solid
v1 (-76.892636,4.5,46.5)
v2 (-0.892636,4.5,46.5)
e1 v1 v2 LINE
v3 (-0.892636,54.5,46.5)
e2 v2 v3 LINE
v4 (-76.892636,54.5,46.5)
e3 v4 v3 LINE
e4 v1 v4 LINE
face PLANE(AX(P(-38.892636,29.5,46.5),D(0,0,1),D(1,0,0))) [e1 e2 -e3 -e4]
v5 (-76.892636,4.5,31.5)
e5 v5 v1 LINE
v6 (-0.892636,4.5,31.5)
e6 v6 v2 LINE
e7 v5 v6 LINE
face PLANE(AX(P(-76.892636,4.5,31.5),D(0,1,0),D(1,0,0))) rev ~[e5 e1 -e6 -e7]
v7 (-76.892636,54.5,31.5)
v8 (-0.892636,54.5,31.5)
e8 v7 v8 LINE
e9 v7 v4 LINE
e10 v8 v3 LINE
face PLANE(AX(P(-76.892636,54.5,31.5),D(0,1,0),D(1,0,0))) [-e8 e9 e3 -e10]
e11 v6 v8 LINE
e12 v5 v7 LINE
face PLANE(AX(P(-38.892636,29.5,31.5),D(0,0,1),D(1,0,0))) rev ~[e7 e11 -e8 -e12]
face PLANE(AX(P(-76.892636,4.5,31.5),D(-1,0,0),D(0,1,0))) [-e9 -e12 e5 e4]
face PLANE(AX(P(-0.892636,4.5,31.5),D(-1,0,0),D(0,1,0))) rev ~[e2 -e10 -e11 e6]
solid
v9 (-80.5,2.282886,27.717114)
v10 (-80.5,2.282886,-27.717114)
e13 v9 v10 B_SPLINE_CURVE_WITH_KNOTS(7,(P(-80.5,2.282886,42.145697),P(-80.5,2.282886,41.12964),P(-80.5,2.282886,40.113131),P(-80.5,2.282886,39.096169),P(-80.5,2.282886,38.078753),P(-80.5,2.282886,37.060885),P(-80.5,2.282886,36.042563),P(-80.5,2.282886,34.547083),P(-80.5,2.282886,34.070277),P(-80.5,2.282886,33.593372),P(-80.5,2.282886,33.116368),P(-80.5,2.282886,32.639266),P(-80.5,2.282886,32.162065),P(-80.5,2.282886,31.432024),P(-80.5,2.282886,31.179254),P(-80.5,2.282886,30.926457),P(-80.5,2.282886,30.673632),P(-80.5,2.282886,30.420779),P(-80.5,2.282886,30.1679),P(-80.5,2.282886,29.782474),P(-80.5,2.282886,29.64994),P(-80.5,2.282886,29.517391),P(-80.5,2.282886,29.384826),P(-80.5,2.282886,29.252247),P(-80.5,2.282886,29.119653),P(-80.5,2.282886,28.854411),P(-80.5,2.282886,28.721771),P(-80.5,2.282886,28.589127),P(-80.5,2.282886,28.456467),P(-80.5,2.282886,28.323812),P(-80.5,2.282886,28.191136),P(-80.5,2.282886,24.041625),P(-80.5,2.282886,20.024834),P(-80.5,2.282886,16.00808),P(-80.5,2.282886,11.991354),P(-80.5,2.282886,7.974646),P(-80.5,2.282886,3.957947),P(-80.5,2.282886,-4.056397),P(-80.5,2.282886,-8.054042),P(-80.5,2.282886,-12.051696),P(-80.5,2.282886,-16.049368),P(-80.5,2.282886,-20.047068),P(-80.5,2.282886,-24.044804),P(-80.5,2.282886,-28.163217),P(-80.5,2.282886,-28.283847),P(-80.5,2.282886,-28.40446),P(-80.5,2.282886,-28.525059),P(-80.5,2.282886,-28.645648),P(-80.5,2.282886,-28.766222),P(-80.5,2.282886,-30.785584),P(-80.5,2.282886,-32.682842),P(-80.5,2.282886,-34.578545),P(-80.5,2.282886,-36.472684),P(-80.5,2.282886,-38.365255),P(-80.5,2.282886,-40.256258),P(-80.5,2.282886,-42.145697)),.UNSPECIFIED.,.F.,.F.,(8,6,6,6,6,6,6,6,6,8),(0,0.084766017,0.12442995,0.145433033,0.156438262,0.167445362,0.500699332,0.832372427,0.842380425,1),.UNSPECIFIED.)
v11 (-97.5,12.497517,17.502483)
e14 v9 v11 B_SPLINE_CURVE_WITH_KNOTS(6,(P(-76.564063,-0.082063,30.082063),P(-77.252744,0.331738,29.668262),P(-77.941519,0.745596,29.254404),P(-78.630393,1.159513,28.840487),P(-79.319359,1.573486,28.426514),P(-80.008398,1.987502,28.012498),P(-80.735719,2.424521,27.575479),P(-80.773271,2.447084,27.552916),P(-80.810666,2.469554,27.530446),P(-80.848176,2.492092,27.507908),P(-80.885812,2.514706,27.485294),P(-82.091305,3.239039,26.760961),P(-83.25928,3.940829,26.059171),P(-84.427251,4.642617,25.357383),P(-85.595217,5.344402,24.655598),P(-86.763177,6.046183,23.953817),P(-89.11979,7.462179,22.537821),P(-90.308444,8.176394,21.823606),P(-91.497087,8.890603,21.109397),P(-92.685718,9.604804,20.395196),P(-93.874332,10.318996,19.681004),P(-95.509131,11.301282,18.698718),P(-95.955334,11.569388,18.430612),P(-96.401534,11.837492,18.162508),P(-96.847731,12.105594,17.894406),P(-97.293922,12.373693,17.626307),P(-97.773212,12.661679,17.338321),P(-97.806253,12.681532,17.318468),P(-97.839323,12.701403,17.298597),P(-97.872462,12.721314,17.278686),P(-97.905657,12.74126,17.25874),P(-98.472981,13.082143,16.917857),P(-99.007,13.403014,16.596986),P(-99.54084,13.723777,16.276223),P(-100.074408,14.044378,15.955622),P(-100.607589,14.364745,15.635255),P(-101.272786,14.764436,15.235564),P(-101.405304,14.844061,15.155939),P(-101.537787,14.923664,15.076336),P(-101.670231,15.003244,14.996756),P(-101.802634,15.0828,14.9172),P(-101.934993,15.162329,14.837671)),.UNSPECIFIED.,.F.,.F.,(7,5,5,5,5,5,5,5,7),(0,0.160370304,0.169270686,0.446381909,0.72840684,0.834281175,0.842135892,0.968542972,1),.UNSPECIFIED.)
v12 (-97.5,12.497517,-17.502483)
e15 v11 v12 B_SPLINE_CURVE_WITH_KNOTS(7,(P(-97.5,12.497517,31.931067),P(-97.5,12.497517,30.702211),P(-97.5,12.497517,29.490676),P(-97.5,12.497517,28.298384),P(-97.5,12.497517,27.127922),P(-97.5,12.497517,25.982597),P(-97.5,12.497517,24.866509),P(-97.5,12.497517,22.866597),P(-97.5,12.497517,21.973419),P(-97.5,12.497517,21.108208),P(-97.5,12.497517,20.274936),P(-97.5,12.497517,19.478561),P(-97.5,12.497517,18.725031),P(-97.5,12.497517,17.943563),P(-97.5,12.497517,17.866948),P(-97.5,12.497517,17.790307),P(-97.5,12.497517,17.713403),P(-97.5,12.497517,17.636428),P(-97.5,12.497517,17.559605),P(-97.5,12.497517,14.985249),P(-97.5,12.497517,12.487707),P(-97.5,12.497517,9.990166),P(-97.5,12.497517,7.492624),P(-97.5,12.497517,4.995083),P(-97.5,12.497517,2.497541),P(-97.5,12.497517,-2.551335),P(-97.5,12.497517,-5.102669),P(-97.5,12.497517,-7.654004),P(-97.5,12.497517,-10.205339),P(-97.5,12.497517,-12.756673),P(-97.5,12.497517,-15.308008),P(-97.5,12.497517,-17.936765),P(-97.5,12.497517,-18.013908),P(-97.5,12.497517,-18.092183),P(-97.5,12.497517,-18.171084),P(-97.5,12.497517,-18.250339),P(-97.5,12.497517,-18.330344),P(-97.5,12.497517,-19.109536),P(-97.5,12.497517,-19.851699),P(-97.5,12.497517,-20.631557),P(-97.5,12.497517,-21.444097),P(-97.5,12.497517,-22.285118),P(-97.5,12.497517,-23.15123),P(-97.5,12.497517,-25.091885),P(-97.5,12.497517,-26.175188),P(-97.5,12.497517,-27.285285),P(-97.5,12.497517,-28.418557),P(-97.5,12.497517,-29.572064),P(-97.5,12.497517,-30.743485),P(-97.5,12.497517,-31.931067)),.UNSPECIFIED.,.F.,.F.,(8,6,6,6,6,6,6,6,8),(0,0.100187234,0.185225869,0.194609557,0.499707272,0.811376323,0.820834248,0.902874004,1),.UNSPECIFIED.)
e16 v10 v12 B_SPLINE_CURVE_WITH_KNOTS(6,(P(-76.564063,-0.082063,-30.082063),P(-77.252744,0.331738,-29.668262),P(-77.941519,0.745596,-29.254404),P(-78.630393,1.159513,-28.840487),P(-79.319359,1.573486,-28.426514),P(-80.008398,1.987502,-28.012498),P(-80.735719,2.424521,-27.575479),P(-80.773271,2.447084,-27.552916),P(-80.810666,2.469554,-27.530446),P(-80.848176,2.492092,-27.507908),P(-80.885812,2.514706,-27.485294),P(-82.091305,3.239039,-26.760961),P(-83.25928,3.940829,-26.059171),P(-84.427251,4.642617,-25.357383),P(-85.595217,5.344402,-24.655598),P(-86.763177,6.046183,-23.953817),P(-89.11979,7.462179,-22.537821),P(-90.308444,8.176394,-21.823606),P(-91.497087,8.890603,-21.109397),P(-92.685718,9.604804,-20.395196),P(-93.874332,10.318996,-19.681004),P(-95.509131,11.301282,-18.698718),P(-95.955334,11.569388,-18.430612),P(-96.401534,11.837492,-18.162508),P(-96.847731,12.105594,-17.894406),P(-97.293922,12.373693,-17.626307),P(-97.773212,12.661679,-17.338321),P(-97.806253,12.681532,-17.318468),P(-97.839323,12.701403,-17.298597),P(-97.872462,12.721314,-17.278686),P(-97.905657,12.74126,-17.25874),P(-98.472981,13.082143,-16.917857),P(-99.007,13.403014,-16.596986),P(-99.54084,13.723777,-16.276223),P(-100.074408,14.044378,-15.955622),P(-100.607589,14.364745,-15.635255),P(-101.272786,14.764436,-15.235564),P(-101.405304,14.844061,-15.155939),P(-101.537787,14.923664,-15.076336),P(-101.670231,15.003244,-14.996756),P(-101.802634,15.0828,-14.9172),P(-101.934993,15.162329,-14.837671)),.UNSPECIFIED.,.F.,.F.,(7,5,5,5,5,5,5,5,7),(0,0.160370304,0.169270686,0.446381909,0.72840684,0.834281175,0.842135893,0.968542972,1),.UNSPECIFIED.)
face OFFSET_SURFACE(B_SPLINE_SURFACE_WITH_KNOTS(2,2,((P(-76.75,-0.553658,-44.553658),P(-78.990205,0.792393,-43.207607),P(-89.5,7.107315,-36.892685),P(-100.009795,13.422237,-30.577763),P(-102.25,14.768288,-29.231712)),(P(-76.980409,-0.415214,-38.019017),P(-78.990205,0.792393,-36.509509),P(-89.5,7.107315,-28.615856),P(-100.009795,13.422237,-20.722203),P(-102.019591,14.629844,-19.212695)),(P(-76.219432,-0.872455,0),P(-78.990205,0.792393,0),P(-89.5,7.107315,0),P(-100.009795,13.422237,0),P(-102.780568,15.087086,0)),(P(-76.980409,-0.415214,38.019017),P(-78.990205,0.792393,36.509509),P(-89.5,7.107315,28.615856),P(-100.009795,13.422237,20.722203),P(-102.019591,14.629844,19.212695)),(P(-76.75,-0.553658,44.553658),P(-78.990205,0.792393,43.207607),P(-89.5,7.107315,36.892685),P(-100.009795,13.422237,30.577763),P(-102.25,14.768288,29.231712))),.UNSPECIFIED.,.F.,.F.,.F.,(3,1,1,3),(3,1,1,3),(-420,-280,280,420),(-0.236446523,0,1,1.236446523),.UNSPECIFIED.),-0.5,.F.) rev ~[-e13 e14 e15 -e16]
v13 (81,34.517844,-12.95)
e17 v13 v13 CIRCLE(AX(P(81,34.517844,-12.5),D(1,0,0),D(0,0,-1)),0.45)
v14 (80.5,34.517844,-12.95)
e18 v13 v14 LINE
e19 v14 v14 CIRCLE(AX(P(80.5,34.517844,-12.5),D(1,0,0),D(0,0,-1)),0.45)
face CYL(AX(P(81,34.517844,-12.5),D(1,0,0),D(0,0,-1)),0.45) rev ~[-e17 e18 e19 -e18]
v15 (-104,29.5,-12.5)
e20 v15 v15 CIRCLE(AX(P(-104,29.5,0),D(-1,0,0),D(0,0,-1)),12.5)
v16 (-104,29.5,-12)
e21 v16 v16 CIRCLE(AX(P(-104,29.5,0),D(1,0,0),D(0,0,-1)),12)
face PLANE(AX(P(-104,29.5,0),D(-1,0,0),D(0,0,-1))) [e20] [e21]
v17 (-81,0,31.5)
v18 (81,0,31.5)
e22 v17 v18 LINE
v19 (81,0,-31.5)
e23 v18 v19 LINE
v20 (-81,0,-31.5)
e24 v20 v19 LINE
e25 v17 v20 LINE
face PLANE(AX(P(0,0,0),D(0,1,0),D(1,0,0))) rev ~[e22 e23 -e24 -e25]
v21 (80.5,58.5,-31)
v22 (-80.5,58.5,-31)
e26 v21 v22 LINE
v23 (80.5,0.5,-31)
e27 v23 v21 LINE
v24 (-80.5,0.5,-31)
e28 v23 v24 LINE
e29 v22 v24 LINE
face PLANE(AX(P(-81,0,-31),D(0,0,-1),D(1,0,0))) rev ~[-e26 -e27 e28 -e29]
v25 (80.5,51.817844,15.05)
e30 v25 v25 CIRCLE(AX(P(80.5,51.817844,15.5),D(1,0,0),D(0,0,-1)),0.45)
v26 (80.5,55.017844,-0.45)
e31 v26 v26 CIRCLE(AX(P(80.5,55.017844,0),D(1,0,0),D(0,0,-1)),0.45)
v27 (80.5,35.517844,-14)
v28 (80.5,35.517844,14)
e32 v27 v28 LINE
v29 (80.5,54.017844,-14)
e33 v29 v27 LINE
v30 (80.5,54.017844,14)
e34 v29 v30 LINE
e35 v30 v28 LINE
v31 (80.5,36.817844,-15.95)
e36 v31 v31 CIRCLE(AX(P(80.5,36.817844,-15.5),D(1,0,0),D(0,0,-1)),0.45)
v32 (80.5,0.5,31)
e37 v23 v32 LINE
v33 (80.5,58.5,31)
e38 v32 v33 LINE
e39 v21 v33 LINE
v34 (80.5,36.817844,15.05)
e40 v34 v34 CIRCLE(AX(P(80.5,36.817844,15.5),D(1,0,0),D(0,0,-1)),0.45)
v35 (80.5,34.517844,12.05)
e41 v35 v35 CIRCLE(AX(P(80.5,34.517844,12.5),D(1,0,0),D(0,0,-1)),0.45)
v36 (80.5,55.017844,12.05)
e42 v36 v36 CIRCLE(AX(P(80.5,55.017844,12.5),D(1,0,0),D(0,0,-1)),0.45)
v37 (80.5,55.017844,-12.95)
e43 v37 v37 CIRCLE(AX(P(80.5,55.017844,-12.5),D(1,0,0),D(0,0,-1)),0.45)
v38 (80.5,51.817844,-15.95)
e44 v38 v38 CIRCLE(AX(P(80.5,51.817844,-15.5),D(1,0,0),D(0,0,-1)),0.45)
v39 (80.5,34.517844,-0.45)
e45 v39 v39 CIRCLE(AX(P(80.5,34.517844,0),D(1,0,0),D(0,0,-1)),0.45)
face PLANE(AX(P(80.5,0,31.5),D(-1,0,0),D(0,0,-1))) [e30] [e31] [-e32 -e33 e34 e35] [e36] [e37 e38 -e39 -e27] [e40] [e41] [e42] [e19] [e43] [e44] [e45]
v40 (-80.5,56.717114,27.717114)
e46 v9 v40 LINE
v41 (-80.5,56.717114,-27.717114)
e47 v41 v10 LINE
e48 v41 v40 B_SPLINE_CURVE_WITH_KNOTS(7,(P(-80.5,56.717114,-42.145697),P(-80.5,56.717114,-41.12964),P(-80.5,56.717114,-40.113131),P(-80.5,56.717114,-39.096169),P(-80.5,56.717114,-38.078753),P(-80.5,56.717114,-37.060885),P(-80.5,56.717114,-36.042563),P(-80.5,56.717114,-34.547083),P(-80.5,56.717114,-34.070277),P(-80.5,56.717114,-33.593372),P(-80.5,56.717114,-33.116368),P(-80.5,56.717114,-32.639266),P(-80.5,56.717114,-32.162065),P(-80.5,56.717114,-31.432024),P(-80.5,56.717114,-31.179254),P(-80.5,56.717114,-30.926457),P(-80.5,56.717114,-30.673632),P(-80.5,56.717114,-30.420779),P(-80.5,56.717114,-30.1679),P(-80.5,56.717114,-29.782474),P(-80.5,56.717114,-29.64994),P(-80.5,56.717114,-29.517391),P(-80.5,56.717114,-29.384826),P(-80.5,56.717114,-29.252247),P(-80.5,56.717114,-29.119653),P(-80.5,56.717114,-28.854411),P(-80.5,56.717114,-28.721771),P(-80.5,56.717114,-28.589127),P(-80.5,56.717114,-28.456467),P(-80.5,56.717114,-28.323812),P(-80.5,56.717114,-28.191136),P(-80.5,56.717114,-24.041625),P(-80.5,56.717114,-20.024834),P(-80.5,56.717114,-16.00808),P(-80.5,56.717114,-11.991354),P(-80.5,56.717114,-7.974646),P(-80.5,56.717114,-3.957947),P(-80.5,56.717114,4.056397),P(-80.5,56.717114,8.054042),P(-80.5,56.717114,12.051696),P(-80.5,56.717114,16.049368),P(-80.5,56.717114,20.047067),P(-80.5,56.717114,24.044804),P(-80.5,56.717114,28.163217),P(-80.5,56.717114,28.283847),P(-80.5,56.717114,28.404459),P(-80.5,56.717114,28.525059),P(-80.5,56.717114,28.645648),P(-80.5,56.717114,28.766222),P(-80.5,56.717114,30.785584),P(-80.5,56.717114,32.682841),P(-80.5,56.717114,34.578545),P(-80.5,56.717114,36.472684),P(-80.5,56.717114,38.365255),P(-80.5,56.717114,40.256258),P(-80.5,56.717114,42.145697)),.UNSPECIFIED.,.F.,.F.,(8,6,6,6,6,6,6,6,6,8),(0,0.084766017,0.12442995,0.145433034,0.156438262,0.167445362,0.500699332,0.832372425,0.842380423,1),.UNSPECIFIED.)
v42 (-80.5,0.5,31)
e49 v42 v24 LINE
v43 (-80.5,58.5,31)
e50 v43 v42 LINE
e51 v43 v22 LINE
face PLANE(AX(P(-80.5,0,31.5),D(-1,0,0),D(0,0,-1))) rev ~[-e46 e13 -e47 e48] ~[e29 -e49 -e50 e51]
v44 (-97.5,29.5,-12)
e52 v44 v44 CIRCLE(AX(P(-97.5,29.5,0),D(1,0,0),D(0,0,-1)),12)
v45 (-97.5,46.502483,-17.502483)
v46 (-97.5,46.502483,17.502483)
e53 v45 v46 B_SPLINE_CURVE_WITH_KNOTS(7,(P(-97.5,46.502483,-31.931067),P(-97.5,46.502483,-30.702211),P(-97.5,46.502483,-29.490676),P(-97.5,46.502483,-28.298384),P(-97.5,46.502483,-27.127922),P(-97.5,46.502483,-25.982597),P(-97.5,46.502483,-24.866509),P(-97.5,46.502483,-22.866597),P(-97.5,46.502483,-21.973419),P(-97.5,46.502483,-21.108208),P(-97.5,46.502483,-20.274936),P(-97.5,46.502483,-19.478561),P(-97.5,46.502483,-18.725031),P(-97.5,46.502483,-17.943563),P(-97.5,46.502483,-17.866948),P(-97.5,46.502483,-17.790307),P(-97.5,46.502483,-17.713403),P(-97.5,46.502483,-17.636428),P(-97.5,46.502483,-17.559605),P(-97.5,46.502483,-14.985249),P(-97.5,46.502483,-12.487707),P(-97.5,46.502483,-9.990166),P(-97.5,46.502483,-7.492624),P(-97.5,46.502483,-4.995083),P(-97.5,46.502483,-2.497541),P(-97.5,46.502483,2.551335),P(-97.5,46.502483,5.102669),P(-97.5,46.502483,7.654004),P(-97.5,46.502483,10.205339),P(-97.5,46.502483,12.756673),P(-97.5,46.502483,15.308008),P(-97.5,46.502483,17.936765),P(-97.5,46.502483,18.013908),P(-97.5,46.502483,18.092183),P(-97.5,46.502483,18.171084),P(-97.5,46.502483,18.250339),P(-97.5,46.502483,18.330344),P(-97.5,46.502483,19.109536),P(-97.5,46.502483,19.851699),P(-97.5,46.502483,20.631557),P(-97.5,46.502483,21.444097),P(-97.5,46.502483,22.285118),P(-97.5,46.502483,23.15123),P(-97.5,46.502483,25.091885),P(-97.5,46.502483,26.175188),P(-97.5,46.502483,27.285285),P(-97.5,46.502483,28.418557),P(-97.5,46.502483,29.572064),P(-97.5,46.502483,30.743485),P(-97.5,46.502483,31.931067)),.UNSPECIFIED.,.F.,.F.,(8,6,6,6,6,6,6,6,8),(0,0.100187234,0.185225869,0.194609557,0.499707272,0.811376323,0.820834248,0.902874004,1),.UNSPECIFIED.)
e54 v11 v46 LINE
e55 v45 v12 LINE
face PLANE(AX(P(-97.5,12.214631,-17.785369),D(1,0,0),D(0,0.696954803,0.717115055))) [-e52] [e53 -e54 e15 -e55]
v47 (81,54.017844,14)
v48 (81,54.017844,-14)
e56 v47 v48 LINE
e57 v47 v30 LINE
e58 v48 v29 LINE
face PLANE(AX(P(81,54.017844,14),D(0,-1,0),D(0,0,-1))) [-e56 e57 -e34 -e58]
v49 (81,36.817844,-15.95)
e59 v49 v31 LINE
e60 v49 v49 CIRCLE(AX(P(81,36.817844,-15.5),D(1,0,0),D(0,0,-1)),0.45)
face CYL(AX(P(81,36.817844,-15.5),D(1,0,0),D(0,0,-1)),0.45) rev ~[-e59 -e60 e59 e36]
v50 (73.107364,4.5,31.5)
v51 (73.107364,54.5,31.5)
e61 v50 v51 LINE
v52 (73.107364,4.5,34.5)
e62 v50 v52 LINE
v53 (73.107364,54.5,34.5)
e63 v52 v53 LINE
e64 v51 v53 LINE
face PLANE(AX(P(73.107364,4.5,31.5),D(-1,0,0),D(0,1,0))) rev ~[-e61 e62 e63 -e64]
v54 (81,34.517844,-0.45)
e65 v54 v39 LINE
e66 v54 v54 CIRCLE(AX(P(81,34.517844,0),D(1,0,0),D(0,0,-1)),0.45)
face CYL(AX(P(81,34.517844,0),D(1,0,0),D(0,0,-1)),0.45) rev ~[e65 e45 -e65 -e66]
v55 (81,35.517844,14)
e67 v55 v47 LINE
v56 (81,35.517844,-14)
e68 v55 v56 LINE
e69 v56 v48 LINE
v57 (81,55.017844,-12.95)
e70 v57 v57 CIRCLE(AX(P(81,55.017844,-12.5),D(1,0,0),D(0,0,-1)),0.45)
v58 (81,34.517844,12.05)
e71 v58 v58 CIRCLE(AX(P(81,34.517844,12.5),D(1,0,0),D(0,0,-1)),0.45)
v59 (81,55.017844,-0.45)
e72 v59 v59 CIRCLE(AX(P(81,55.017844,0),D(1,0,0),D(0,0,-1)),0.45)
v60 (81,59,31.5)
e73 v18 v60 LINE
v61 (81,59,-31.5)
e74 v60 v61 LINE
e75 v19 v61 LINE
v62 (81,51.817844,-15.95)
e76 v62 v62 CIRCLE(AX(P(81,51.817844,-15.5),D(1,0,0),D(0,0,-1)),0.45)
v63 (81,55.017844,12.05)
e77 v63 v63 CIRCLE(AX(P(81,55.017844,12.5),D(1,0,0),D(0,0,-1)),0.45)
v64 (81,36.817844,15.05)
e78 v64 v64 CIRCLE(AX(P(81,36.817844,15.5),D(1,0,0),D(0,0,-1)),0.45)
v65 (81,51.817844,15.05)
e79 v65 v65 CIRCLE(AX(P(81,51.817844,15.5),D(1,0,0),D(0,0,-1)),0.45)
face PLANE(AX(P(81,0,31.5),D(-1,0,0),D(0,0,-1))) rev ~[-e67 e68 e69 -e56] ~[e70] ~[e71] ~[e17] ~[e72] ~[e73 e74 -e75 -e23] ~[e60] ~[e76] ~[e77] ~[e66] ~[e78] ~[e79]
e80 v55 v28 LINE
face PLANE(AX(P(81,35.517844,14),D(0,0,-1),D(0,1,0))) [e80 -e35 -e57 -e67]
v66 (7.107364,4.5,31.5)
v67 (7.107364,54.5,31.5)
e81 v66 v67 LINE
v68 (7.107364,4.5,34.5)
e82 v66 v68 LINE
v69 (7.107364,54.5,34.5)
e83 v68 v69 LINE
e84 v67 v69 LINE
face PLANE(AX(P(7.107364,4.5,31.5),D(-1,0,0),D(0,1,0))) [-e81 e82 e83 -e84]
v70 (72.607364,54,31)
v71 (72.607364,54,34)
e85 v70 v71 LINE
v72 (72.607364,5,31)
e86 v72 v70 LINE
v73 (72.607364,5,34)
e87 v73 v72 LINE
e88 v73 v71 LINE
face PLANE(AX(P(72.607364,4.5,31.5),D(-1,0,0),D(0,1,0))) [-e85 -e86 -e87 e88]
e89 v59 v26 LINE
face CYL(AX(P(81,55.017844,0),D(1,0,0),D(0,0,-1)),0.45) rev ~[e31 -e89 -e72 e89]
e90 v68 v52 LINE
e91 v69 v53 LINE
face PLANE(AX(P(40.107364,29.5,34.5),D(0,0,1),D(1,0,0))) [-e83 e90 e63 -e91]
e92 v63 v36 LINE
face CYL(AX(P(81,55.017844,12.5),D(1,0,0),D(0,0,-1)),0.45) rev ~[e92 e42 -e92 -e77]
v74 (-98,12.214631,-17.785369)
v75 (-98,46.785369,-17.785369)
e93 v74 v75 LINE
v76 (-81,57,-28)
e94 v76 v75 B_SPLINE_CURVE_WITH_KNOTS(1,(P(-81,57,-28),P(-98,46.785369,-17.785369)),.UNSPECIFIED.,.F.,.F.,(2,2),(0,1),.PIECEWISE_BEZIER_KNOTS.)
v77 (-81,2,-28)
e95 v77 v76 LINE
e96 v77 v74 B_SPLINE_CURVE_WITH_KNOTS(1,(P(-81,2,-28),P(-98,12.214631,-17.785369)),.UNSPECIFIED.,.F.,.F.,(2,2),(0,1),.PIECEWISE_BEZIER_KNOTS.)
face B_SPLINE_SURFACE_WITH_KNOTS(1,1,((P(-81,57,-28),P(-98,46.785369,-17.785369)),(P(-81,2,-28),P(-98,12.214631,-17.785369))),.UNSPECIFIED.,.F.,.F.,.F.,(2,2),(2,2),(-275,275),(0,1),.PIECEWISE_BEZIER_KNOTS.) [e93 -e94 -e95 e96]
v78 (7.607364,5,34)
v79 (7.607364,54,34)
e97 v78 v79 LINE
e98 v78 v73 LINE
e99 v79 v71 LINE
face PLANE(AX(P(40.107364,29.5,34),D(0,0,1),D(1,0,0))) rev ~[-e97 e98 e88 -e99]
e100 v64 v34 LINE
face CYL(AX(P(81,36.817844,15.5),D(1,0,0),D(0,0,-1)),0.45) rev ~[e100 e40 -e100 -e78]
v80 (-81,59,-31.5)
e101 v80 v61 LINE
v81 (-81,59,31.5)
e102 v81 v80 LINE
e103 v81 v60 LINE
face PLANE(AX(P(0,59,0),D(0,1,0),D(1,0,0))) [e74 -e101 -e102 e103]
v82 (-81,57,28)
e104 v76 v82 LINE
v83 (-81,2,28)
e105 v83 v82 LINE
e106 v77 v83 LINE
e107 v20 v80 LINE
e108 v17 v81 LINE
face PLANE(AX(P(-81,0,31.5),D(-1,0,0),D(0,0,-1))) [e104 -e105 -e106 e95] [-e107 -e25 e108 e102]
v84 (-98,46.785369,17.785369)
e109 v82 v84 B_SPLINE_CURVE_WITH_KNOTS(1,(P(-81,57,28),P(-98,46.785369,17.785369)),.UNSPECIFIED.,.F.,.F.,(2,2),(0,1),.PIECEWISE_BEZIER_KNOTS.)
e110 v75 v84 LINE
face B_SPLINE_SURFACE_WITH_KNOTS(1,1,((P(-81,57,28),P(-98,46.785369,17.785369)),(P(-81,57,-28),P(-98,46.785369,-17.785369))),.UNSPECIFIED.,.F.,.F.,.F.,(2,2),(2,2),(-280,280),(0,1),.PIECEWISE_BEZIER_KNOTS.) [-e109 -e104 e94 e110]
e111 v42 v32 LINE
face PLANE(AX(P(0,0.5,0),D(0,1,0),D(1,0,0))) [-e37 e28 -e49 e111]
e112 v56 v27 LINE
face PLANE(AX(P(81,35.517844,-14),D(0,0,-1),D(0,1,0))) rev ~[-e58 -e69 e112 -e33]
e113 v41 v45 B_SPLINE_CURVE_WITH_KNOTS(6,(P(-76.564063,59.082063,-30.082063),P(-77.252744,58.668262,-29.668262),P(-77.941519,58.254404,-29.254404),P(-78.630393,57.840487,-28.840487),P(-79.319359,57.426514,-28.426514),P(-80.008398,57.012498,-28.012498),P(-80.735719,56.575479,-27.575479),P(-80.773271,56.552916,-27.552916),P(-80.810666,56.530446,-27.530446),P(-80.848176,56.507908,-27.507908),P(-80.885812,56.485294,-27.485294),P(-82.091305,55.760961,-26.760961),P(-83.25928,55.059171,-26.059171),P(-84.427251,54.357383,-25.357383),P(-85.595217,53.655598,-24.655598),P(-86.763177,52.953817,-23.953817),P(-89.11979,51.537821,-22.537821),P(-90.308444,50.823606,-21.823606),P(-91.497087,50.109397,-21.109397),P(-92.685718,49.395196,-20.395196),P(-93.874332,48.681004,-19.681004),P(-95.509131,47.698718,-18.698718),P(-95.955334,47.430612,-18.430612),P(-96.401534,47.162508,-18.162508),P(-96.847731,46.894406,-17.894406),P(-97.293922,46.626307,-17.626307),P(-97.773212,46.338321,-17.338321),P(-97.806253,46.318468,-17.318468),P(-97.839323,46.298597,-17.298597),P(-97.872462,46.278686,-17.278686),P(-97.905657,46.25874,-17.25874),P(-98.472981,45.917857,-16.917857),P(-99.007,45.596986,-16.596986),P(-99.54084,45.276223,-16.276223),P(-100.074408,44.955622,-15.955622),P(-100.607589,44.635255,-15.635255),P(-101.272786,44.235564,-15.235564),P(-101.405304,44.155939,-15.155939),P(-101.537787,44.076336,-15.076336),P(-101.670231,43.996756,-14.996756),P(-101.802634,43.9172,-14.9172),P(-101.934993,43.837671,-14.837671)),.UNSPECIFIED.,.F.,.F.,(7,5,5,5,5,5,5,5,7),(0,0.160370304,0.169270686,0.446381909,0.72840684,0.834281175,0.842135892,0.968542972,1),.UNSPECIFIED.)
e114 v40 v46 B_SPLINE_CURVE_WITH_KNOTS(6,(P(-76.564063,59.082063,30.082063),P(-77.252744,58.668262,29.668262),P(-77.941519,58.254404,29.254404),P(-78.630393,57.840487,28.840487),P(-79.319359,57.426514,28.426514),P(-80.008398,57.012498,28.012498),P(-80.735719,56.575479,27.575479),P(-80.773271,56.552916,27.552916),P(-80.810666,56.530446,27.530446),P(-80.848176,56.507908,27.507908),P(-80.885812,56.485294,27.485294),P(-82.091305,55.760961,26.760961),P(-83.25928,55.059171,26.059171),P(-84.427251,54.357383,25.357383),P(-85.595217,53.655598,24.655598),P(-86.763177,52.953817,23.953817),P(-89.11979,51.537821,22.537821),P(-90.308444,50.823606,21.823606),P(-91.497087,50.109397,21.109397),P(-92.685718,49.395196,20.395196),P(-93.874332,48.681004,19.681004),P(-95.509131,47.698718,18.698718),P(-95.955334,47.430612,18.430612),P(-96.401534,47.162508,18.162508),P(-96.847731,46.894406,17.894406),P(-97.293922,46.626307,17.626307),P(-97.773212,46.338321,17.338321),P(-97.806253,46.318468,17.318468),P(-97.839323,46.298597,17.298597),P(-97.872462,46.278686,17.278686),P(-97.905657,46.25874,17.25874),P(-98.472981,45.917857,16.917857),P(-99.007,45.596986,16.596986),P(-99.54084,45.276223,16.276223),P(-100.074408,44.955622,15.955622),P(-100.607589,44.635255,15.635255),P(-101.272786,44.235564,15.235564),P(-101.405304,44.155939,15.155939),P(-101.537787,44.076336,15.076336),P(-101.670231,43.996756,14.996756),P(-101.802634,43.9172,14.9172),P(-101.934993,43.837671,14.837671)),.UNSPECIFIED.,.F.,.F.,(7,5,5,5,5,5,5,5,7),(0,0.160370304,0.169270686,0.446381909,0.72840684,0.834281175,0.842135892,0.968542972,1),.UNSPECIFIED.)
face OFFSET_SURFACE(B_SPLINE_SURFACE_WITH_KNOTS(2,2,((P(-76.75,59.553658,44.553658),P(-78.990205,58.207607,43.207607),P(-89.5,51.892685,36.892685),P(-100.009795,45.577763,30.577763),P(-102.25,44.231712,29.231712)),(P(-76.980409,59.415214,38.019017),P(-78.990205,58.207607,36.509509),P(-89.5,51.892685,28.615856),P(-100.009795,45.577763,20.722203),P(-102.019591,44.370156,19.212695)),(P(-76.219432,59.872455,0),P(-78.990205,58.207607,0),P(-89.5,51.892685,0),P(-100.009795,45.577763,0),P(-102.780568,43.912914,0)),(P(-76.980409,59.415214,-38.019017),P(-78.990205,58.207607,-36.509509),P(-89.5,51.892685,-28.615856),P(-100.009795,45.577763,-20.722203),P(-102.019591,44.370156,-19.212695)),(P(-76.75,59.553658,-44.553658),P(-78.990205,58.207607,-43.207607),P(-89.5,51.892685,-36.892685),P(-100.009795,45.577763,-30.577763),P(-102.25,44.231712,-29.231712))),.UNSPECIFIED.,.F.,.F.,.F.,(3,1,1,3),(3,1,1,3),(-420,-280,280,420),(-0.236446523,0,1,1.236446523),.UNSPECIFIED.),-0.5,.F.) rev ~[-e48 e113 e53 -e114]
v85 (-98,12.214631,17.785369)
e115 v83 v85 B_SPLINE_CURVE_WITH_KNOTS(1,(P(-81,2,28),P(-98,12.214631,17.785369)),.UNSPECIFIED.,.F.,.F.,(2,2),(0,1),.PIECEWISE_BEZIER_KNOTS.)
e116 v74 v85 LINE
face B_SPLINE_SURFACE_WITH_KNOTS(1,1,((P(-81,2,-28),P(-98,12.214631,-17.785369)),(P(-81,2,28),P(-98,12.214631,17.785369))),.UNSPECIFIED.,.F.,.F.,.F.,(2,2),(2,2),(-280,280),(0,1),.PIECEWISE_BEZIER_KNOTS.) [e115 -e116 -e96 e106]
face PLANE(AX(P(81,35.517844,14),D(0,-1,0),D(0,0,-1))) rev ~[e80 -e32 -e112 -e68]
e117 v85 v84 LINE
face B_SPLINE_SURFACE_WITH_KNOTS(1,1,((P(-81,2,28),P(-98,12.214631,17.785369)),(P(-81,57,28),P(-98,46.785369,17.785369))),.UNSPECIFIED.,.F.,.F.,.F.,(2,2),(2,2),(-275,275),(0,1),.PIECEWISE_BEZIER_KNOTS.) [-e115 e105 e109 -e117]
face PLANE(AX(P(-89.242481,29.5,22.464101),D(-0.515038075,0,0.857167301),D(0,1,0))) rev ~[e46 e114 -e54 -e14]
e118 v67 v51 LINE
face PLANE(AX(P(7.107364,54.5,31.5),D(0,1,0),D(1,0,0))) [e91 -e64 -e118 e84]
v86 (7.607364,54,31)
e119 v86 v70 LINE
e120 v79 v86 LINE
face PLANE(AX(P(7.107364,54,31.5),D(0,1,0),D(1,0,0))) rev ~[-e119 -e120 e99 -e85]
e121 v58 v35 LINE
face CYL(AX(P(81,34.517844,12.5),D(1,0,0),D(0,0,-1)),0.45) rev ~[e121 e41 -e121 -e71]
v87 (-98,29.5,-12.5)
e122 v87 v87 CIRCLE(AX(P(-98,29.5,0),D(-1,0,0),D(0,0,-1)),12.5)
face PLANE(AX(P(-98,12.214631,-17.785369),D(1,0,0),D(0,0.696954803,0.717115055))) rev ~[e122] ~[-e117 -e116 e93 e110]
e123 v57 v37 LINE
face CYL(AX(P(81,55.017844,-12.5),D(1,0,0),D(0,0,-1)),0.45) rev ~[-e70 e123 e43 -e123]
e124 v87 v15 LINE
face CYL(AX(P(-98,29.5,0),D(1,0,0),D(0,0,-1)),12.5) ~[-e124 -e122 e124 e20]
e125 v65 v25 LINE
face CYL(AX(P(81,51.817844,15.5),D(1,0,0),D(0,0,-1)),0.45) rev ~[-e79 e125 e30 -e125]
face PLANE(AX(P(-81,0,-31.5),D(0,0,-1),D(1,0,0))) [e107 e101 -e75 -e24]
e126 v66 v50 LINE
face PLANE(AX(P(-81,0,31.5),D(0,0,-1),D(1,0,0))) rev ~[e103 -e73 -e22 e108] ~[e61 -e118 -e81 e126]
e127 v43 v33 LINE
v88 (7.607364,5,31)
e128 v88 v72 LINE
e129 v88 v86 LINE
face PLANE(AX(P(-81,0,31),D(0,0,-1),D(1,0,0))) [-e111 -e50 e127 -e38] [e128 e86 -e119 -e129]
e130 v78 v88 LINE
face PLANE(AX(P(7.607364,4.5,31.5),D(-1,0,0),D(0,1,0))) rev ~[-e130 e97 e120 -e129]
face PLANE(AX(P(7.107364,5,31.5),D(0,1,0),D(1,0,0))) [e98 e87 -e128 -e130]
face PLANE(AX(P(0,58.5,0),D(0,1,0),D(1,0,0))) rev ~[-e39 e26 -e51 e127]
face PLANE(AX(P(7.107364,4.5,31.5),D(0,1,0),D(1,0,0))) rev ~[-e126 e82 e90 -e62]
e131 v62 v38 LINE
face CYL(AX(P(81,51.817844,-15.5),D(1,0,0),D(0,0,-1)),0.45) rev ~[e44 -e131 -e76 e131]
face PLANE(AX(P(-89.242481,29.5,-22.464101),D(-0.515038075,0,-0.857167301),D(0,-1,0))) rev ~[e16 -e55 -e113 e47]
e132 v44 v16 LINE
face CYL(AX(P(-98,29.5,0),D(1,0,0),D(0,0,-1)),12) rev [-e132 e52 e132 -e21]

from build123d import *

# Parameters (mm, degrees)
SKETCH1_W           = 1620
SKETCH1_H           = 630
BOSS_EXTRUDE1_DEPTH = 590
SKETCH2_W           = 760
SKETCH2_H           = 500
BOSS_EXTRUDE2_DEPTH = 150
SKETCH3_W           = 560
SKETCH3_H           = 550
BOSS_EXTRUDE3_DEPTH = 170
BOSS_EXTRUDE3_TAPER = 31
SKETCH4_R           = 125
BOSS_EXTRUDE4_DEPTH = 60
SKETCH5_W           = 660
SKETCH5_H           = 500
BOSS_EXTRUDE5_DEPTH = 30
SHELL1_T            = -5
SKETCH7_R           = 4.5
SKETCH7_W           = 280
SKETCH7_H           = 185
CUT_EXTRUDE1_DEPTH  = 10
SCALE1_SCALE        = 0.1


with BuildPart() as part:
    # Sketch1 → Boss-Extrude1 (new body)
    with BuildSketch(Plane(origin=(0, 0, 0), x_dir=(1, 0, 0), z_dir=(0, 1, 0))):
        Rectangle(SKETCH1_W, SKETCH1_H)
    extrude(amount=BOSS_EXTRUDE1_DEPTH)

    # Sketch3 → Boss-Extrude3 (add)
    with BuildSketch(Plane.ZY.offset(810)):
        with Locations((0, 295)):
            Rectangle(SKETCH3_W, SKETCH3_H)
    extrude(amount=BOSS_EXTRUDE3_DEPTH, taper=BOSS_EXTRUDE3_TAPER)

    # Sketch4 → Boss-Extrude4 (add)
    with BuildSketch(Plane.ZY.offset(980)):
        with Locations(Location((0, 295, 0), (0, 0, 180))):
            Circle(SKETCH4_R)
    extrude(amount=BOSS_EXTRUDE4_DEPTH)

    # Sketch5 → Boss-Extrude5 (add)
    with BuildSketch(Plane.XY.offset(315)):
        with Locations((401.07364471, 295)):
            Rectangle(SKETCH5_W, SKETCH5_H)
    extrude(amount=BOSS_EXTRUDE5_DEPTH)

    # Shell1
    shell1_openings = [part.faces().sort_by_distance(p)[0] for p in [
        (-1040, 295, 0),
    ]]
    offset(amount=SHELL1_T, openings=shell1_openings, kind=Kind.INTERSECTION)

    # Sketch7 → Cut-Extrude1 (cut)
    with BuildSketch(Plane(origin=(810, 0, 0), x_dir=(0, 0, -1), z_dir=(1, 0, 0))):
        with Locations((-125, 550.17844245)):
            Circle(SKETCH7_R)
        with Locations((0, 550.17844245)):
            Circle(SKETCH7_R)
        with Locations((125, 550.17844245)):
            Circle(SKETCH7_R)
        with Locations((0, 345.17844245)):
            Circle(SKETCH7_R)
        with Locations((125, 345.17844245)):
            Circle(SKETCH7_R)
        with Locations((-125, 345.17844245)):
            Circle(SKETCH7_R)
        with Locations((-155, 518.17844245)):
            Circle(SKETCH7_R)
        with Locations((155, 518.17844245)):
            Circle(SKETCH7_R)
        with Locations((155, 368.17844245)):
            Circle(SKETCH7_R)
        with Locations((-155, 368.17844245)):
            Circle(SKETCH7_R)
        with Locations((0, 447.67844245)):
            Rectangle(SKETCH7_W, SKETCH7_H)
    extrude(amount=-CUT_EXTRUDE1_DEPTH, mode=Mode.SUBTRACT)


with BuildPart() as body_2:
    # Sketch2 → Boss-Extrude2 (new body)
    with BuildSketch(Plane.XY.offset(315)):
        with Locations((-388.92635529, 295)):
            Rectangle(SKETCH2_W, SKETCH2_H)
    extrude(amount=BOSS_EXTRUDE2_DEPTH)


with BuildPart() as body_2_1:
    # Scale1: scaled about (0, 0, 0)
    add(body_2.part.scale(SCALE1_SCALE))


with BuildPart() as part_1:
    # Scale1: scaled about (0, 0, 0)
    add(part.part.scale(SCALE1_SCALE))


solid = Compound([body_2_1.part, part_1.part])
